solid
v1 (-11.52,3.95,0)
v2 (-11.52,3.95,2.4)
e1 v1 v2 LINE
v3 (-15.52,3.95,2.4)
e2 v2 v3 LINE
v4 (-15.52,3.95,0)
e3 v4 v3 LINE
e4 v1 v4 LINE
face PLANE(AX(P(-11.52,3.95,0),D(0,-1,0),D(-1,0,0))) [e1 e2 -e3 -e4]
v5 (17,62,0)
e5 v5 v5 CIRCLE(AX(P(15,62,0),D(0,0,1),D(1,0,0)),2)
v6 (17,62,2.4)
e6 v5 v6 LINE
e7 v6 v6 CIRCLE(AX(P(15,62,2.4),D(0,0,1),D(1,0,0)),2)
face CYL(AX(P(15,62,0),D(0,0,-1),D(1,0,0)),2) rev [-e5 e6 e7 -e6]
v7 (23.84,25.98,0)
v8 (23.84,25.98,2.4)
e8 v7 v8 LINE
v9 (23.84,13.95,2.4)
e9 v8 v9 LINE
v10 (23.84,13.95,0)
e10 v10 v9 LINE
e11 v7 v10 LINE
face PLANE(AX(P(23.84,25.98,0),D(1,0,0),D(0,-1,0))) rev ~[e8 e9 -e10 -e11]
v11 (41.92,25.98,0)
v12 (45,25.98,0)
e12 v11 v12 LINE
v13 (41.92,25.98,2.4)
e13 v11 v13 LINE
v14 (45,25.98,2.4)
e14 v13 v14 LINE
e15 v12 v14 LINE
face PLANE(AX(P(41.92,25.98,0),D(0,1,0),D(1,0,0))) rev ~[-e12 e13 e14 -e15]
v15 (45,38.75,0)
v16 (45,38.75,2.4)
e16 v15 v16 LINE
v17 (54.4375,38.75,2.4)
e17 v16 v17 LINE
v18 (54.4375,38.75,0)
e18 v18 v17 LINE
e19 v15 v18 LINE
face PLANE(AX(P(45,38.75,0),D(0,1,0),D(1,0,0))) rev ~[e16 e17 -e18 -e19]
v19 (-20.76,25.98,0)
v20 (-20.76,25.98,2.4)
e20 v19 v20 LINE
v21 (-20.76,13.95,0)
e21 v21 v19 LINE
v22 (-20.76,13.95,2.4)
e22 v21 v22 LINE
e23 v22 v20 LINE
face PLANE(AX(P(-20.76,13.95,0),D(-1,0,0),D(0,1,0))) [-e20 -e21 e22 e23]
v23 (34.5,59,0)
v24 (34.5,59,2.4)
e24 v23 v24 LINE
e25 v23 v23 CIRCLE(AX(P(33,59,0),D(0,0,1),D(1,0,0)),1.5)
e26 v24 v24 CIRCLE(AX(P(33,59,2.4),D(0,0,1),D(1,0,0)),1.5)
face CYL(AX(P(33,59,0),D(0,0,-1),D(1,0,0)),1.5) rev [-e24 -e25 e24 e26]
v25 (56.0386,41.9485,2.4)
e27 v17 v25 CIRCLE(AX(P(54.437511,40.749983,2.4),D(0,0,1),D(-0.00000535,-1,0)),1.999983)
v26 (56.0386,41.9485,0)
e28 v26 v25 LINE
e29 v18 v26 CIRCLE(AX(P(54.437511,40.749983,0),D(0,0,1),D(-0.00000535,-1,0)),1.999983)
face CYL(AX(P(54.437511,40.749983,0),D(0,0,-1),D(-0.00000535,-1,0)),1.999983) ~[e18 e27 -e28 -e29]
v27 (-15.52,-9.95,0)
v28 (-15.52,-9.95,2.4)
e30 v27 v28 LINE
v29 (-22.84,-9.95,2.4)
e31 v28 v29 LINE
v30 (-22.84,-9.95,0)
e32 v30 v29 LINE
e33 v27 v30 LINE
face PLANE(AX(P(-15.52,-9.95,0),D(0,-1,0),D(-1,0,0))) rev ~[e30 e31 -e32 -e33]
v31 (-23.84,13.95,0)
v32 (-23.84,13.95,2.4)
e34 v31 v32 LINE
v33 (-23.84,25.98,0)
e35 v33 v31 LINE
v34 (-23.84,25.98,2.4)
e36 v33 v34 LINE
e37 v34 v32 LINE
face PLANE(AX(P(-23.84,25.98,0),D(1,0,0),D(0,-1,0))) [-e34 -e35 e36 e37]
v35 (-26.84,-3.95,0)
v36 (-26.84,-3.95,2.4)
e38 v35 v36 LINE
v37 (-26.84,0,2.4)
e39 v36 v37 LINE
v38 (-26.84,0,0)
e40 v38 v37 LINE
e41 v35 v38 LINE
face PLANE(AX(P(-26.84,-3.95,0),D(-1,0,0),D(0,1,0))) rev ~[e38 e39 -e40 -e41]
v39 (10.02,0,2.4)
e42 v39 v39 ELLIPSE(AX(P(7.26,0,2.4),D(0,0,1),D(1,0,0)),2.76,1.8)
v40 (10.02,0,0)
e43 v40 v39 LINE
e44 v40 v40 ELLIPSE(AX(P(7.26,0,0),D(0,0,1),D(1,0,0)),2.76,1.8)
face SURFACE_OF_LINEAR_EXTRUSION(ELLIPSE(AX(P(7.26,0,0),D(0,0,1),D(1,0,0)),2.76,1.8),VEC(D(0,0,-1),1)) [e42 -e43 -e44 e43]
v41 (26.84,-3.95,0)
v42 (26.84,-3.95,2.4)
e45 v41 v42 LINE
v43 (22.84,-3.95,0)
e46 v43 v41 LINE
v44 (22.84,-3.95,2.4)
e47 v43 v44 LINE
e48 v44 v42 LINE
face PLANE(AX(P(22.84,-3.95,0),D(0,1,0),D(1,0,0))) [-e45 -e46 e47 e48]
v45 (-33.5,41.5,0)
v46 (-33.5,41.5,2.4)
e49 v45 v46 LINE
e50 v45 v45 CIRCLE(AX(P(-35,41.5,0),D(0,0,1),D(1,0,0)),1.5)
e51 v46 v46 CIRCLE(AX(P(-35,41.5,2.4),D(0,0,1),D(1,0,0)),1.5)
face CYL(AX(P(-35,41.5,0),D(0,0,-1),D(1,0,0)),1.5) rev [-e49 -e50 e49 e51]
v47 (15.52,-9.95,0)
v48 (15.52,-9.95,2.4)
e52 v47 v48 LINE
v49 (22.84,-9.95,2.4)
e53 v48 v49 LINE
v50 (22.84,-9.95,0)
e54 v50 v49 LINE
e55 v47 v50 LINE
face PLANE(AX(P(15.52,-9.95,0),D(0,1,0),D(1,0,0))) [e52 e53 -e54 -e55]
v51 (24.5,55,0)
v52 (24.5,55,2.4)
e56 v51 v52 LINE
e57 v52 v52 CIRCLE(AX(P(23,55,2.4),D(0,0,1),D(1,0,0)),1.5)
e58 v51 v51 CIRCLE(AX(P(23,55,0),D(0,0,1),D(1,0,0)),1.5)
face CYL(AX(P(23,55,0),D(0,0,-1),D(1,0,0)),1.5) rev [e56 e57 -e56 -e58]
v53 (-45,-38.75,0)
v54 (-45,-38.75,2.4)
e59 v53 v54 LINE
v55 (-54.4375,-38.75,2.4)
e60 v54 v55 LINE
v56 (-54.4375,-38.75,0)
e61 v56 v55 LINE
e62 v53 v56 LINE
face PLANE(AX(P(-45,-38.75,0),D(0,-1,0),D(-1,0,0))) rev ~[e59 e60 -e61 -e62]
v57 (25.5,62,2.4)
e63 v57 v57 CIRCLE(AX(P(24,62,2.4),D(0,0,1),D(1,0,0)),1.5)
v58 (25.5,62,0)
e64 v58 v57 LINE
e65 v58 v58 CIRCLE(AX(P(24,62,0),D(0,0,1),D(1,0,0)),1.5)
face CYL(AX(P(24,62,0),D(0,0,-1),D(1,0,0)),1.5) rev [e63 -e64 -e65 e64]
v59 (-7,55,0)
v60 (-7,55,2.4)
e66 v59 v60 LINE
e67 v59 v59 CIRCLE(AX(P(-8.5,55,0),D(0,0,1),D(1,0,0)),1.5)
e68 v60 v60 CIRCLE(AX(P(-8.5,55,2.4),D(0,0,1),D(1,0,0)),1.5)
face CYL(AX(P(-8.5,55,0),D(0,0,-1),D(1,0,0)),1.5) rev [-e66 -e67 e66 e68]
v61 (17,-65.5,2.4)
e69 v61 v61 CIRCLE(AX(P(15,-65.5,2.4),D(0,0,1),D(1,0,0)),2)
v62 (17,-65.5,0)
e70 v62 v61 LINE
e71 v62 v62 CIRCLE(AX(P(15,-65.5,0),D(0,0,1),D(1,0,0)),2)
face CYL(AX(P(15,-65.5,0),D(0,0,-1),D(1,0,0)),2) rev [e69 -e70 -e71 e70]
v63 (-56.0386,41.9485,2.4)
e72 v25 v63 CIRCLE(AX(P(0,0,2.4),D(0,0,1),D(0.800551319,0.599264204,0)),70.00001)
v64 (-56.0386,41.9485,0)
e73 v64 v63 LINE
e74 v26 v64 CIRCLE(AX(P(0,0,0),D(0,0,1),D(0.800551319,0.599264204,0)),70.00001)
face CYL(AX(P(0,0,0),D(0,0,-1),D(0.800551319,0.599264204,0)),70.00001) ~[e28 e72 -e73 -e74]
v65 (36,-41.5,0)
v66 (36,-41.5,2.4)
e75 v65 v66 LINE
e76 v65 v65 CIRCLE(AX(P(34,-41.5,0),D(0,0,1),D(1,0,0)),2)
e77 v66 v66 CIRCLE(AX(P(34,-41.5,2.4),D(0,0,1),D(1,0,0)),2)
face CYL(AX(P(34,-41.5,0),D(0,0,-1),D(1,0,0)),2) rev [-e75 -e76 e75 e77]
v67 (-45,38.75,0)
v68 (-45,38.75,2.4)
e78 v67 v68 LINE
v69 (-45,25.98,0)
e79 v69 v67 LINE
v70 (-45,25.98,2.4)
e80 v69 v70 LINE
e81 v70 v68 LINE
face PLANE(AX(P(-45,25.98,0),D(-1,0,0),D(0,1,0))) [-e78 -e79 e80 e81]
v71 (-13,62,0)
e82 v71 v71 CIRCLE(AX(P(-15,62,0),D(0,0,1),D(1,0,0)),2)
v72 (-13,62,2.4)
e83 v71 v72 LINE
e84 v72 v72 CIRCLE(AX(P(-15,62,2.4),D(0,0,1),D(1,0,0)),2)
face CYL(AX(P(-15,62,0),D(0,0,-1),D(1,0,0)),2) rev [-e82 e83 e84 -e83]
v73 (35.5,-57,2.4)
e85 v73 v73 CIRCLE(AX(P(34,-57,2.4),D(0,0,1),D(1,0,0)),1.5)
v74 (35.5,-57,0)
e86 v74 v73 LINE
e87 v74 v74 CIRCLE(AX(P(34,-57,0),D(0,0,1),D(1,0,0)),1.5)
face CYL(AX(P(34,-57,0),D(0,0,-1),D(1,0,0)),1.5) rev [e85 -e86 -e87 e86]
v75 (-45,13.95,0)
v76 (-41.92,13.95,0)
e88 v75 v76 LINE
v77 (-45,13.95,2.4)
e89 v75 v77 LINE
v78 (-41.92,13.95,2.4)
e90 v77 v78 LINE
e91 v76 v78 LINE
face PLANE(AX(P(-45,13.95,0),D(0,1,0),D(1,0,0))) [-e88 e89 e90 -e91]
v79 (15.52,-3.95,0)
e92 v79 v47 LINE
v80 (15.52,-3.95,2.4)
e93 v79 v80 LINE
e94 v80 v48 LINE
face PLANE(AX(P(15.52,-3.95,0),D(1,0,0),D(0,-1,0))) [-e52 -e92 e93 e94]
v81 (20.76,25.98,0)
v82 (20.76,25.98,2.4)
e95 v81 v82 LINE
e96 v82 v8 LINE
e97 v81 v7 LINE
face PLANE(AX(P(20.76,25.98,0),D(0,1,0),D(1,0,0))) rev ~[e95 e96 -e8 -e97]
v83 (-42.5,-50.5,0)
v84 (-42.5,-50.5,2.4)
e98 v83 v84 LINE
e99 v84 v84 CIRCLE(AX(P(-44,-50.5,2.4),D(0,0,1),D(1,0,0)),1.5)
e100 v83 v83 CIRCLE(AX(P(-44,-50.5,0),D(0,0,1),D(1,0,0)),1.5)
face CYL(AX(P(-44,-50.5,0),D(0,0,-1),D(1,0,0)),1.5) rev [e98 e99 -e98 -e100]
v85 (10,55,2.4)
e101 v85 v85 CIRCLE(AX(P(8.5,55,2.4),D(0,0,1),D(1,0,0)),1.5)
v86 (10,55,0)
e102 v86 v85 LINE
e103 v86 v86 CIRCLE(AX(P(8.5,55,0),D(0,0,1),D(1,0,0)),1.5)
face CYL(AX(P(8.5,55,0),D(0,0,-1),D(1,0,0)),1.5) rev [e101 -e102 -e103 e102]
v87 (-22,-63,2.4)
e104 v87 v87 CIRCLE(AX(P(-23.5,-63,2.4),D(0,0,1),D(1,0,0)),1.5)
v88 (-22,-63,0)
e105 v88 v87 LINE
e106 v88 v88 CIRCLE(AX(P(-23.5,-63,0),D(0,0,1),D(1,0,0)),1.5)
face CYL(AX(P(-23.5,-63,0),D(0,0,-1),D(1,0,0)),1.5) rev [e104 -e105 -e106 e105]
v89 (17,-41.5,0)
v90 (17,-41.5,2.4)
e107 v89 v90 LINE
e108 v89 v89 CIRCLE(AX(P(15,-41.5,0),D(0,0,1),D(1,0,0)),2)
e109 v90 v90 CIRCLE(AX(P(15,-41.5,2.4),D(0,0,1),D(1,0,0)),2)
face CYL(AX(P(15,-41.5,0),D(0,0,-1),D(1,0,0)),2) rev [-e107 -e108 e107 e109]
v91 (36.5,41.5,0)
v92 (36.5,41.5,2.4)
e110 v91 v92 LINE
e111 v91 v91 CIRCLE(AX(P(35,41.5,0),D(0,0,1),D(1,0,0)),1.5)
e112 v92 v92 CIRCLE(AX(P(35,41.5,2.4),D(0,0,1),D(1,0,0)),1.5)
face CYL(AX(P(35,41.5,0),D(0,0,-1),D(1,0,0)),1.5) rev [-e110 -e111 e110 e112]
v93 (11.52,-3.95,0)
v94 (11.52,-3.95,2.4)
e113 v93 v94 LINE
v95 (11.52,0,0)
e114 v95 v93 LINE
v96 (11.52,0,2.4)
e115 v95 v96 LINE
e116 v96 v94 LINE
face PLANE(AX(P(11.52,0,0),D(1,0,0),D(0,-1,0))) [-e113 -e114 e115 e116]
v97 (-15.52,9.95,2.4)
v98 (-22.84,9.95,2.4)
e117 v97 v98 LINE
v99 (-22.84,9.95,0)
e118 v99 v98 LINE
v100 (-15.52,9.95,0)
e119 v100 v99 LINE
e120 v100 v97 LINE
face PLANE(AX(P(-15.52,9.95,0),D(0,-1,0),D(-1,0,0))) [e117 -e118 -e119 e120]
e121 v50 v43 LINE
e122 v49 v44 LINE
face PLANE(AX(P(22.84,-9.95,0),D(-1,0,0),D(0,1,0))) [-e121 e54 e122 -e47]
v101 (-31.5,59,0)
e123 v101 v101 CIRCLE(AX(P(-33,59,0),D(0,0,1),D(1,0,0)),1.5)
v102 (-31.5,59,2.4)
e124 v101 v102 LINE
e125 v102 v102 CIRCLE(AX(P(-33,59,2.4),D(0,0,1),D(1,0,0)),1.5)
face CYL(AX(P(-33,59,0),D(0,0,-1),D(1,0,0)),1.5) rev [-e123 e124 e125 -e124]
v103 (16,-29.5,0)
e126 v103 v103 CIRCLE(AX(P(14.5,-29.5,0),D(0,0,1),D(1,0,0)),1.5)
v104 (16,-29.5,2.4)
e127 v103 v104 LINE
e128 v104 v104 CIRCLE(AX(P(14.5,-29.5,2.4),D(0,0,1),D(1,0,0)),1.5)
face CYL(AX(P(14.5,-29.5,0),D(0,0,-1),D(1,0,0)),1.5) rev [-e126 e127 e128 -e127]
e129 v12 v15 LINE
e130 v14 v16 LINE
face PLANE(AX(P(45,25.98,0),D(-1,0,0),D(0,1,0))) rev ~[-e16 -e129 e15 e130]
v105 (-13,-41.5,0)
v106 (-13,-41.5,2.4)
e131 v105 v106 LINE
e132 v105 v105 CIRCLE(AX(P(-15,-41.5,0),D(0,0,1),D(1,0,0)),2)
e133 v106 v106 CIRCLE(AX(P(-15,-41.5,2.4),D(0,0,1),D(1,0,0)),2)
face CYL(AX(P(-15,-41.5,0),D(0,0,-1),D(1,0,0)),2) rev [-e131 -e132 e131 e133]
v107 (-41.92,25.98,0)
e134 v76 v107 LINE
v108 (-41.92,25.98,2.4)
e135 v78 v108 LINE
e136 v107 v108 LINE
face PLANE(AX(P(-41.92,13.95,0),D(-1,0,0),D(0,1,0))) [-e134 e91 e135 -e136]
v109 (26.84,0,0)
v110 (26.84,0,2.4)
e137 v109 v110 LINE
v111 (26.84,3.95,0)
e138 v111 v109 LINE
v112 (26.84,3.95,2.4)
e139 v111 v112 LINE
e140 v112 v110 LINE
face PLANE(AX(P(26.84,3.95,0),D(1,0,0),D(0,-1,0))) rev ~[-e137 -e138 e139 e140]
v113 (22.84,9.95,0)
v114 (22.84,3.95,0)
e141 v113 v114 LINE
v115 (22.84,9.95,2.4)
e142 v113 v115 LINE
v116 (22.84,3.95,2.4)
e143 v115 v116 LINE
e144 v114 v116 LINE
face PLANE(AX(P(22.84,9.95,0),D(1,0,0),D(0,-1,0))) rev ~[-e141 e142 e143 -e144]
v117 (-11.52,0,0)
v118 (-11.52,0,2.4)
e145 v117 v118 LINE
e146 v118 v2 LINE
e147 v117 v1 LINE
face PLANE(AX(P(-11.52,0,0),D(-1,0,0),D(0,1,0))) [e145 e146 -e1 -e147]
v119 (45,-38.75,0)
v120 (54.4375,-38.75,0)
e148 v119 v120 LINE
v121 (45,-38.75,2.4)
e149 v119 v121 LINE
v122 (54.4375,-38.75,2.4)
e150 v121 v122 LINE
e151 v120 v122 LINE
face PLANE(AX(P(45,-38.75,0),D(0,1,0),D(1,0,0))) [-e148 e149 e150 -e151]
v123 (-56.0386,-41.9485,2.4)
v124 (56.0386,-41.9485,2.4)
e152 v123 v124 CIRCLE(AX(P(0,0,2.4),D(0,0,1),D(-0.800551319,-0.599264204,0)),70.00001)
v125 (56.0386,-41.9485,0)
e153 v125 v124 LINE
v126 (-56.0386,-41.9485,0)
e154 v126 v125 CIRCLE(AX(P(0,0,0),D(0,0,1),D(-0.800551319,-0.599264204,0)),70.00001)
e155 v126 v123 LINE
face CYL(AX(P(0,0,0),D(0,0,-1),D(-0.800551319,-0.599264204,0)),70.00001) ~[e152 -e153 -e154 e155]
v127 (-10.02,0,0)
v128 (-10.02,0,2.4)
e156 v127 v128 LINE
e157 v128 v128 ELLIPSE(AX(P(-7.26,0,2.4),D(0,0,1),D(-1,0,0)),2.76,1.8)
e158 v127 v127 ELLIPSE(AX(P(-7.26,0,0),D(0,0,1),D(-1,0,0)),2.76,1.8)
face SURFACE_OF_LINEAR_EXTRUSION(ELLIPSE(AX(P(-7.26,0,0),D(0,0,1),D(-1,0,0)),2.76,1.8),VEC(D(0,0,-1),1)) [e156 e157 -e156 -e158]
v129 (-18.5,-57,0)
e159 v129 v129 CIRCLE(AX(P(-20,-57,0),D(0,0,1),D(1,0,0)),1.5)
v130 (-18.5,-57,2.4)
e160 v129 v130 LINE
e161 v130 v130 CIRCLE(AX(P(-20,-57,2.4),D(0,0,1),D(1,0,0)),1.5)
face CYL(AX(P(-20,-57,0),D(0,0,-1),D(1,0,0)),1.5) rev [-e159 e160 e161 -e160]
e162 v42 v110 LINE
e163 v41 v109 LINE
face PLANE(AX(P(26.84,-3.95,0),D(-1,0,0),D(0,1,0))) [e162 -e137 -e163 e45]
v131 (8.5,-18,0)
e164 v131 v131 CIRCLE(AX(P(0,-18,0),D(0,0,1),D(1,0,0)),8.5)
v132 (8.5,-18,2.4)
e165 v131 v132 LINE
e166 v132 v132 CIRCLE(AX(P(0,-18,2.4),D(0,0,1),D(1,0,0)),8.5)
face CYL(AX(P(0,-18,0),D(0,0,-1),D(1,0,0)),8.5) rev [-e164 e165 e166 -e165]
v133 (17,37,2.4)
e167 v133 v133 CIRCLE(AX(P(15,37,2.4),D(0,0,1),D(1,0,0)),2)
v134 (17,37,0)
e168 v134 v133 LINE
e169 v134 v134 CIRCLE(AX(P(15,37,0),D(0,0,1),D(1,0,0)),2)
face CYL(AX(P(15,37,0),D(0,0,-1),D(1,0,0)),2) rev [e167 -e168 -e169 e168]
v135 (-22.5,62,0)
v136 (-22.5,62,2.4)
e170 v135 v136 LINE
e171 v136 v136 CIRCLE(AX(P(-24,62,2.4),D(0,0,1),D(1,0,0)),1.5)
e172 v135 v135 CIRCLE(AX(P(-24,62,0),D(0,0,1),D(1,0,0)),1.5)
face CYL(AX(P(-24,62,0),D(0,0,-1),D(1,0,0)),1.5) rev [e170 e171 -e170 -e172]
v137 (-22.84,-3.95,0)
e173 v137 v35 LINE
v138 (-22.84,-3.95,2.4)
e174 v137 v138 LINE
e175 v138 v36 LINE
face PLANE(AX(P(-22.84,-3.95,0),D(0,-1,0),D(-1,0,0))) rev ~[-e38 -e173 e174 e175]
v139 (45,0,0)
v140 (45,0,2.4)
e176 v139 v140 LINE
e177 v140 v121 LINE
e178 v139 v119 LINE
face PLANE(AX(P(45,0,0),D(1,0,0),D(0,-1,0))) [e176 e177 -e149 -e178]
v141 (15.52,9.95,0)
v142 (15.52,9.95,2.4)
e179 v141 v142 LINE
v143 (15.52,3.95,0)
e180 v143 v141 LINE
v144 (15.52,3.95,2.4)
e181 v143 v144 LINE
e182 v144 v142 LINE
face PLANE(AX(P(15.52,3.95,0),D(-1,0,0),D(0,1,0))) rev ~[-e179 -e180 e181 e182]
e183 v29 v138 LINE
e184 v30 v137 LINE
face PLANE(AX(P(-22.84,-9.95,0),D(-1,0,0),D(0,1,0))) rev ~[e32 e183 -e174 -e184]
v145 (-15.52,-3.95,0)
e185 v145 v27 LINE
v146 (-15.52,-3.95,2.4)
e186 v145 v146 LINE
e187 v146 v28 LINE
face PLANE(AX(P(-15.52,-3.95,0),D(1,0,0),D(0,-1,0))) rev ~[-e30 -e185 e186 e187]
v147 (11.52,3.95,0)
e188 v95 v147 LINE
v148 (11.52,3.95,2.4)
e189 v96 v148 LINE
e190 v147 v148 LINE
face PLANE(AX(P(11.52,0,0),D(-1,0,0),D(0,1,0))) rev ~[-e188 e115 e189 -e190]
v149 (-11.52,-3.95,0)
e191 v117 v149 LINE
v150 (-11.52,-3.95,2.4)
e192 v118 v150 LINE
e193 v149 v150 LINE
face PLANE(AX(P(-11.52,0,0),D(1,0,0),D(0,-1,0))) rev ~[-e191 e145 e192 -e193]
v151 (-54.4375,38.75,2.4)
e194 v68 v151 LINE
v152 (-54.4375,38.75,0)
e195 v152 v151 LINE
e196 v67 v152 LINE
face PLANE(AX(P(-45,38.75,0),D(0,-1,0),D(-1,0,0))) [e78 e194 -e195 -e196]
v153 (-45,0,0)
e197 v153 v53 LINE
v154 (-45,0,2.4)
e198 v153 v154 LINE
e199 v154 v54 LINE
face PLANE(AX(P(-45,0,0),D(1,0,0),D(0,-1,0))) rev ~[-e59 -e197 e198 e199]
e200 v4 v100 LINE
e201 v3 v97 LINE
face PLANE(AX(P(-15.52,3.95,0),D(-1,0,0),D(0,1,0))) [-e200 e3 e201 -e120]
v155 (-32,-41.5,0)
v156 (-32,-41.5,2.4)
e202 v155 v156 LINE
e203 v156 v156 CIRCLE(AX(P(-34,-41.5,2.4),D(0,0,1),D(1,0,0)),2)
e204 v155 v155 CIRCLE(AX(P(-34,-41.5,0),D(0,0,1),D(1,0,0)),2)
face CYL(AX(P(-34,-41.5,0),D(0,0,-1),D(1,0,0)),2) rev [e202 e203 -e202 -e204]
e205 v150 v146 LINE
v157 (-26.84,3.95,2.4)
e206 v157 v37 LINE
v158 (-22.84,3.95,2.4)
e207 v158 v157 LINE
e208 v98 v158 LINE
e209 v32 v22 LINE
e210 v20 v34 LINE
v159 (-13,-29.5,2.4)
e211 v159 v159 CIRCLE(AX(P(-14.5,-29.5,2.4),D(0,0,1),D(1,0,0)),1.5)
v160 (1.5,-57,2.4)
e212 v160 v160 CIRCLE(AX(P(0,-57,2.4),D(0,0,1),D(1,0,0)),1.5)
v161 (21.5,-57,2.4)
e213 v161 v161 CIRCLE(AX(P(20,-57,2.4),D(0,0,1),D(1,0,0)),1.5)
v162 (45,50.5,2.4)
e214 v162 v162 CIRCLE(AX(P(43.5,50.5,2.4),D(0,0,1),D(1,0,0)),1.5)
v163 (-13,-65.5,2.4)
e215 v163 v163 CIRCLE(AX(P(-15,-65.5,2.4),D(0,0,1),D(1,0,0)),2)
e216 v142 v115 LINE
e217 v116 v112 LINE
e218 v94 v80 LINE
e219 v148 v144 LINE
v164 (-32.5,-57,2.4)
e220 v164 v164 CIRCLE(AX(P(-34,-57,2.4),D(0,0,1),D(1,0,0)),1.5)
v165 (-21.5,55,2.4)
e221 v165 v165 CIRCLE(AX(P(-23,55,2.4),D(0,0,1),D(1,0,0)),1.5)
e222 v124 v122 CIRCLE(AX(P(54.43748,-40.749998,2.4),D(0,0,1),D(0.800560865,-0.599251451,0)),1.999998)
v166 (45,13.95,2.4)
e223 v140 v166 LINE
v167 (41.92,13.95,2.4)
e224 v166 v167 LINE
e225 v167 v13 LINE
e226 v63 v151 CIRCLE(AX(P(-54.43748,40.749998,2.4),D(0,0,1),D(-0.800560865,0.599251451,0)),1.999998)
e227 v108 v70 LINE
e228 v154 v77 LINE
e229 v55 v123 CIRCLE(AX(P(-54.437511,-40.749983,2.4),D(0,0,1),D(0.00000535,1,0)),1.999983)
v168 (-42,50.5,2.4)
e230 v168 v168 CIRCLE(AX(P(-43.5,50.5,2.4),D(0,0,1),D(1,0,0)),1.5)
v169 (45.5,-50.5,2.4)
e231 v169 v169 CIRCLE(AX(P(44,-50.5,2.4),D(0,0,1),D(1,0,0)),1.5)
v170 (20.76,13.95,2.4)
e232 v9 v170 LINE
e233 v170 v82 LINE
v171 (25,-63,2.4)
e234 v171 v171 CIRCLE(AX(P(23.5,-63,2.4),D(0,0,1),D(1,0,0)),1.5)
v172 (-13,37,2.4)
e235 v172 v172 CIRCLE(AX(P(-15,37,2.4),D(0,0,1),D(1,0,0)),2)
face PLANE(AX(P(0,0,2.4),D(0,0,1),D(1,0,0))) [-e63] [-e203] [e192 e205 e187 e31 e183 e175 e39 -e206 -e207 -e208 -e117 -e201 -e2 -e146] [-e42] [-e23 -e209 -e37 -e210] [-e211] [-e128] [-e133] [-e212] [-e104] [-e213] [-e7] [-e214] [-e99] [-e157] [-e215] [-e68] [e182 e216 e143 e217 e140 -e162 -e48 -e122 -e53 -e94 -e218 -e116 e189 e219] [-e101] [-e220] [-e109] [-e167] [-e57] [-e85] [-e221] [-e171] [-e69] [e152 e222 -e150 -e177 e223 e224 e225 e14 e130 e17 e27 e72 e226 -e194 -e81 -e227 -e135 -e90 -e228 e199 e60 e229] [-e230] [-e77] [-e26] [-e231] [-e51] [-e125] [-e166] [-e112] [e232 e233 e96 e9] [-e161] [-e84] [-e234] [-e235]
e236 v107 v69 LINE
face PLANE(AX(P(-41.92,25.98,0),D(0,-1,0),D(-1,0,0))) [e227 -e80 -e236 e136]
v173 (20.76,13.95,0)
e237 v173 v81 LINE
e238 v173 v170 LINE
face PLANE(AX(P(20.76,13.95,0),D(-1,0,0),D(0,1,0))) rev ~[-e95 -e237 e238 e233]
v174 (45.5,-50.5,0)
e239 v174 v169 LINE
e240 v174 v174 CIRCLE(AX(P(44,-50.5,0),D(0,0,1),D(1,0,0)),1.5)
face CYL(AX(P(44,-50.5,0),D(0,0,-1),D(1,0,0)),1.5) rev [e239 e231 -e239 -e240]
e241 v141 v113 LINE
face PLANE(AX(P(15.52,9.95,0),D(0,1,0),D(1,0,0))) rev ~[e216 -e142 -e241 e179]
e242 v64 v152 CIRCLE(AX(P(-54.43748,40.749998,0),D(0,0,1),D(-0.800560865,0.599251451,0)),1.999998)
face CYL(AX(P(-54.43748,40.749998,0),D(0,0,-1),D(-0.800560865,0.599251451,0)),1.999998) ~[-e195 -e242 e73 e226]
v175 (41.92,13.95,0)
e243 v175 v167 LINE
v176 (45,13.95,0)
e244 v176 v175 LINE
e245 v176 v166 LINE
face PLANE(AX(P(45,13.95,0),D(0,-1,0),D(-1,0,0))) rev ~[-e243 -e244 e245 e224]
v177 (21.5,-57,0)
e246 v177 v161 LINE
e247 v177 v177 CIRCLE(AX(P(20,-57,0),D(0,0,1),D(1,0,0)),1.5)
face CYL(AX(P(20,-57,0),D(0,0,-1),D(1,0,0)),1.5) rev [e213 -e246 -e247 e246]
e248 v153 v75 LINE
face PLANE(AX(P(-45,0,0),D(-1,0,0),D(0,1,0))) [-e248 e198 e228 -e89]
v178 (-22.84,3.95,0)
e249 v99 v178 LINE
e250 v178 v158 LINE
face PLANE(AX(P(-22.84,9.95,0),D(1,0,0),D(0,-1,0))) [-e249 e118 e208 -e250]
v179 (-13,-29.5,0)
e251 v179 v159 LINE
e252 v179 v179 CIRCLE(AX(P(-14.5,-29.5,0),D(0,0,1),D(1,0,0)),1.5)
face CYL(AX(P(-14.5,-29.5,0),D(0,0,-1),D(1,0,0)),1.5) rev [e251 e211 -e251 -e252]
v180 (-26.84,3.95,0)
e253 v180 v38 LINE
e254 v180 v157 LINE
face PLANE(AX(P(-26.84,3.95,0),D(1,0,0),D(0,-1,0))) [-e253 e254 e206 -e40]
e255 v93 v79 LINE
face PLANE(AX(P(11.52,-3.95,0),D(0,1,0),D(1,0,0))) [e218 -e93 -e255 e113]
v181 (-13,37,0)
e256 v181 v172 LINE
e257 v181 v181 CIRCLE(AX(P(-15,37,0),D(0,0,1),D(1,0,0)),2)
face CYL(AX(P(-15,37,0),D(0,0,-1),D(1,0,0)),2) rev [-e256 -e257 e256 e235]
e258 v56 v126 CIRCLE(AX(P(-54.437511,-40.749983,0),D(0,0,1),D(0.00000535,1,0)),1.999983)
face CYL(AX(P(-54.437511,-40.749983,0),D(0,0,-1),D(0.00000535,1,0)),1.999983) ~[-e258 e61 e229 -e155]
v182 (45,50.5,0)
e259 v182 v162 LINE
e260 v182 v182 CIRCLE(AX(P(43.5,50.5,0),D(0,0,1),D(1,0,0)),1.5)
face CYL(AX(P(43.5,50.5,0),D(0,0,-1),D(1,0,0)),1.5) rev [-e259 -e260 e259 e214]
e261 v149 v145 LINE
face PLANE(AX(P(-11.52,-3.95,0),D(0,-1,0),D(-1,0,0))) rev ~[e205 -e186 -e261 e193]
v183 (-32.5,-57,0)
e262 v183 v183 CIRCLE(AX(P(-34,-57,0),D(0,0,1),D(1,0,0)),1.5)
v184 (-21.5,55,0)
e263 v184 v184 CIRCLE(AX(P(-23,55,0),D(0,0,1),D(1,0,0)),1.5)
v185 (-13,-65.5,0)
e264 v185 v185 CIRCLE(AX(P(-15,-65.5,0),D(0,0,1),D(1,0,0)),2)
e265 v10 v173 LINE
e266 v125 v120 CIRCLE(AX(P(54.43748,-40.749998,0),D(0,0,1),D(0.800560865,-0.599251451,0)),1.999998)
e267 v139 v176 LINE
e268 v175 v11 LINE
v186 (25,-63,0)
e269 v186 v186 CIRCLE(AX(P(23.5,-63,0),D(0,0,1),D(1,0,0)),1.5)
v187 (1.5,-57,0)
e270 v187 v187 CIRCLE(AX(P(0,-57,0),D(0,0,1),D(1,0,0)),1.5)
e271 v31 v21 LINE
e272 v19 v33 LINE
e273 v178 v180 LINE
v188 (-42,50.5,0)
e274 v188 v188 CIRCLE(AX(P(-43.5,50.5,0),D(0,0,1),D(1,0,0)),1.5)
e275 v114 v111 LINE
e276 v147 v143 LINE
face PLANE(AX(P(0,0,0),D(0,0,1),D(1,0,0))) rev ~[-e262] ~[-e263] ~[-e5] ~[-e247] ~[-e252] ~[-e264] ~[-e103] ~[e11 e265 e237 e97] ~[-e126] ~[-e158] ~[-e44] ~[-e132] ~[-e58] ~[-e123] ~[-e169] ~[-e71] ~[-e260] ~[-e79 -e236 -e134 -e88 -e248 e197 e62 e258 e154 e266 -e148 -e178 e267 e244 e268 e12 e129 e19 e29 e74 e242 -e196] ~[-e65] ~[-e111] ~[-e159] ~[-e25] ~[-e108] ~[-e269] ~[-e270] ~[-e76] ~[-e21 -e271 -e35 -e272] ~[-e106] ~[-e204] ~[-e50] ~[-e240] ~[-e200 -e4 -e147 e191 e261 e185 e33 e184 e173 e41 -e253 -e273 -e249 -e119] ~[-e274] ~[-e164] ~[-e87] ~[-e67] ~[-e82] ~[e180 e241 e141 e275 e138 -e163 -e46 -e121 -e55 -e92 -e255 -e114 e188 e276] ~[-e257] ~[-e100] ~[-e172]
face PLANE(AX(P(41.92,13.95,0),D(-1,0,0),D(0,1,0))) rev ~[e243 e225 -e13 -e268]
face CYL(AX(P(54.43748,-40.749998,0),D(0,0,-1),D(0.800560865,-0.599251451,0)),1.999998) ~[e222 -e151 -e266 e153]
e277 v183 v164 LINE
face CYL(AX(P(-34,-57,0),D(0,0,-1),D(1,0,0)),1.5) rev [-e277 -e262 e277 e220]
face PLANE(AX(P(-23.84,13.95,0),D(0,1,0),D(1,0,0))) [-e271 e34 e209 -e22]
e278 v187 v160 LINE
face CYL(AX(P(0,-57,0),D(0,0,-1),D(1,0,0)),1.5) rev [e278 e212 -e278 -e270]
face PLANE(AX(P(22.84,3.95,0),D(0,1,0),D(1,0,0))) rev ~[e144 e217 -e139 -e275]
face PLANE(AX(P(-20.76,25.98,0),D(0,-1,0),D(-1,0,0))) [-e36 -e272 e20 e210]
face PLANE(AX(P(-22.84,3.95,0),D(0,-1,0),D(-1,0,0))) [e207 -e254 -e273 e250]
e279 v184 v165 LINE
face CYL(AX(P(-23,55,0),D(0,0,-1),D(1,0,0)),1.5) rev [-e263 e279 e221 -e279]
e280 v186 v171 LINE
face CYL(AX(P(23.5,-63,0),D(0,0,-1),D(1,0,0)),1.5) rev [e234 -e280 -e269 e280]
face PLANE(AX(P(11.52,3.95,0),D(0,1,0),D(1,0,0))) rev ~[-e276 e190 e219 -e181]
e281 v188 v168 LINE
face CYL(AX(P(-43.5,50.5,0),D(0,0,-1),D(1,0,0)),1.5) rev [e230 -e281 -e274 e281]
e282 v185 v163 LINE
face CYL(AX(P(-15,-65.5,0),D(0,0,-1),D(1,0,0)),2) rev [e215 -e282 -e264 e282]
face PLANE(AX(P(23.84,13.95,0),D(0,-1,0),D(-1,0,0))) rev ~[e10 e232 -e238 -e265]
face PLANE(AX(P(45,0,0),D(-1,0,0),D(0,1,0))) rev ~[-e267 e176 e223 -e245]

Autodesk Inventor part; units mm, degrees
ref_plane "YZ Plane" through (0, 0, 0) normal (1, 0, 0) x (0, 1, 0)
ref_plane "XZ Plane" through (0, 0, 0) normal (0, 1, 0) x (-1, 0, 0)
ref_plane "XY Plane" through (0, 0, 0) normal (0, 0, 1) x (1, 0, 0)
sketch "Sketch1" plane through (0, 0, 0) normal (0, 0, 1) x (1, 0, 0)
  ellipse E0 centre (-7.26, 0) end of major axis (-10.02, 0) minor radius 1.8
  ellipse E1 centre (7.26, 0) end of major axis (10.02, 0) minor radius 1.8
  line L0 (11.52, 0) -> (11.52, 3.95)
  line L1 (11.52, 3.95) -> (15.52, 3.95)
  line L2 (15.52, 3.95) -> (15.52, 9.95)
  line L3 (15.52, 9.95) -> (22.84, 9.95)
  line L4 (22.84, 9.95) -> (22.84, 3.95)
  line L5 (22.84, 3.95) -> (26.84, 3.95)
  line L6 (26.84, 3.95) -> (26.84, 0)
  line L7 (11.52, 0) -> (11.52, -3.95)
  line L8 (11.52, -3.95) -> (15.52, -3.95)
  line L9 (15.52, -3.95) -> (15.52, -9.95)
  line L10 (15.52, -9.95) -> (22.84, -9.95)
  line L11 (22.84, -9.95) -> (22.84, -3.95)
  line L12 (22.84, -3.95) -> (26.84, -3.95)
  line L13 (26.84, -3.95) -> (26.84, 0)
  line L14 (-11.52, 0) -> (-11.52, 3.95)
  line L15 (-11.52, 3.95) -> (-15.52, 3.95)
  line L16 (-15.52, 3.95) -> (-15.52, 9.95)
  line L17 (-15.52, 9.95) -> (-22.84, 9.95)
  line L18 (-22.84, 9.95) -> (-22.84, 3.95)
  line L19 (-22.84, 3.95) -> (-26.84, 3.95)
  line L20 (-26.84, 3.95) -> (-26.84, 0)
  line L21 (-11.52, 0) -> (-11.52, -3.95)
  line L22 (-11.52, -3.95) -> (-15.52, -3.95)
  line L23 (-15.52, -3.95) -> (-15.52, -9.95)
  line L24 (-15.52, -9.95) -> (-22.84, -9.95)
  line L25 (-22.84, -9.95) -> (-22.84, -3.95)
  line L26 (-22.84, -3.95) -> (-26.84, -3.95)
  line L27 (-26.84, -3.95) -> (-26.84, 0)
  circle A0 centre (0, -18) radius 8.5
  circle A1 centre (14.5, -29.5) radius 1.5
  circle A2 centre (-14.5, -29.5) radius 1.5
  circle A3 centre (15, -41.5) radius 2
  circle A4 centre (34, -41.5) radius 2
  circle A5 centre (-15, -41.5) radius 2
  circle A6 centre (-34, -41.5) radius 2
  circle A7 centre (-15, -65.5) radius 2
  circle A8 centre (15, -65.5) radius 2
  circle A9 centre (44, -50.5) radius 1.5
  circle A10 centre (-44, -50.5) radius 1.5
  circle A11 centre (0, -57) radius 1.5
  circle A12 centre (20, -57) radius 1.5
  circle A13 centre (34, -57) radius 1.5
  circle A14 centre (-20, -57) radius 1.5
  circle A15 centre (-34, -57) radius 1.5
  circle A16 centre (23.5, -63) radius 1.5
  circle A17 centre (-23.5, -63) radius 1.5
  line L28 (23.84, 13.95) -> (20.76, 13.95)
  line L29 (20.76, 13.95) -> (20.76, 25.98)
  line L30 (20.76, 25.98) -> (23.84, 25.98)
  line L31 (23.84, 25.98) -> (23.84, 13.95)
  line L32 (-23.84, 13.95) -> (-20.76, 13.95)
  line L33 (-20.76, 13.95) -> (-20.76, 25.98)
  line L34 (-20.76, 25.98) -> (-23.84, 25.98)
  line L35 (-23.84, 25.98) -> (-23.84, 13.95)
  circle A18 centre (15, 37) radius 2
  circle A19 centre (15, 62) radius 2
  circle A20 centre (-15, 37) radius 2
  circle A21 centre (-15, 62) radius 2
  circle A22 centre (35, 41.5) radius 1.5
  circle A23 centre (43.5, 50.5) radius 1.5
  circle A24 centre (-35, 41.5) radius 1.5
  circle A25 centre (-43.5, 50.5) radius 1.5
  circle A26 centre (8.5, 55) radius 1.5
  circle A27 centre (23, 55) radius 1.5
  circle A28 centre (-8.5, 55) radius 1.5
  circle A29 centre (-23, 55) radius 1.5
  circle A30 centre (33, 59) radius 1.5
  circle A31 centre (-33, 59) radius 1.5
  circle A32 centre (24, 62) radius 1.5
  circle A33 centre (-24, 62) radius 1.5
  line L36 (-45, 0) -> (-45, 13.95)
  line L37 (-45, 13.95) -> (-41.92, 13.95)
  line L38 (-41.92, 13.95) -> (-41.92, 25.98)
  line L39 (-41.92, 25.98) -> (-45, 25.98)
  line L40 (-45, 25.98) -> (-45, 38.75)
  line L41 (-45, 38.75) -> (-54.4375, 38.75)
  line L42 (-45, 0) -> (-45, -38.75)
  line L43 (-45, -38.75) -> (-54.4375, -38.75)
  line L44 (45, 0) -> (45, 13.95)
  line L45 (45, 13.95) -> (41.92, 13.95)
  line L46 (41.92, 13.95) -> (41.92, 25.98)
  line L47 (41.92, 25.98) -> (45, 25.98)
  line L48 (45, 25.98) -> (45, 38.75)
  line L49 (45, 38.75) -> (54.4375, 38.75)
  line L50 (45, 0) -> (45, -38.75)
  line L51 (45, -38.75) -> (54.4375, -38.75)
  arc A34 (-56.0386, -41.9485) -> (56.0386, -41.9485) centre (0, 0) ccw
  arc A35 (56.0386, 41.9485) -> (-56.0386, 41.9485) centre (0, 0) ccw
  arc A36 (-56.0386, 41.9485) -> (-54.4375, 38.75) centre (-54.4375, 40.75) ccw
  arc A37 (54.4375, 38.75) -> (56.0386, 41.9485) centre (54.4375, 40.75) ccw
  arc A38 (56.0386, -41.9485) -> (54.4375, -38.75) centre (54.4375, -40.75) ccw
  arc A39 (-54.4375, -38.75) -> (-56.0386, -41.9485) centre (-54.4375, -40.75) ccw
  point P0 (-58.2961, 38.75)
  point P1 (-58.2961, -38.75)
  point P2 (58.2961, 38.75)
  point P3 (58.2961, -38.75)
  dimension "d148" = 2
extrude "Extrusion1" add sketch "Sketch1" along normal blind 2.4
properties part number "Part2_Estructura pequeña"
